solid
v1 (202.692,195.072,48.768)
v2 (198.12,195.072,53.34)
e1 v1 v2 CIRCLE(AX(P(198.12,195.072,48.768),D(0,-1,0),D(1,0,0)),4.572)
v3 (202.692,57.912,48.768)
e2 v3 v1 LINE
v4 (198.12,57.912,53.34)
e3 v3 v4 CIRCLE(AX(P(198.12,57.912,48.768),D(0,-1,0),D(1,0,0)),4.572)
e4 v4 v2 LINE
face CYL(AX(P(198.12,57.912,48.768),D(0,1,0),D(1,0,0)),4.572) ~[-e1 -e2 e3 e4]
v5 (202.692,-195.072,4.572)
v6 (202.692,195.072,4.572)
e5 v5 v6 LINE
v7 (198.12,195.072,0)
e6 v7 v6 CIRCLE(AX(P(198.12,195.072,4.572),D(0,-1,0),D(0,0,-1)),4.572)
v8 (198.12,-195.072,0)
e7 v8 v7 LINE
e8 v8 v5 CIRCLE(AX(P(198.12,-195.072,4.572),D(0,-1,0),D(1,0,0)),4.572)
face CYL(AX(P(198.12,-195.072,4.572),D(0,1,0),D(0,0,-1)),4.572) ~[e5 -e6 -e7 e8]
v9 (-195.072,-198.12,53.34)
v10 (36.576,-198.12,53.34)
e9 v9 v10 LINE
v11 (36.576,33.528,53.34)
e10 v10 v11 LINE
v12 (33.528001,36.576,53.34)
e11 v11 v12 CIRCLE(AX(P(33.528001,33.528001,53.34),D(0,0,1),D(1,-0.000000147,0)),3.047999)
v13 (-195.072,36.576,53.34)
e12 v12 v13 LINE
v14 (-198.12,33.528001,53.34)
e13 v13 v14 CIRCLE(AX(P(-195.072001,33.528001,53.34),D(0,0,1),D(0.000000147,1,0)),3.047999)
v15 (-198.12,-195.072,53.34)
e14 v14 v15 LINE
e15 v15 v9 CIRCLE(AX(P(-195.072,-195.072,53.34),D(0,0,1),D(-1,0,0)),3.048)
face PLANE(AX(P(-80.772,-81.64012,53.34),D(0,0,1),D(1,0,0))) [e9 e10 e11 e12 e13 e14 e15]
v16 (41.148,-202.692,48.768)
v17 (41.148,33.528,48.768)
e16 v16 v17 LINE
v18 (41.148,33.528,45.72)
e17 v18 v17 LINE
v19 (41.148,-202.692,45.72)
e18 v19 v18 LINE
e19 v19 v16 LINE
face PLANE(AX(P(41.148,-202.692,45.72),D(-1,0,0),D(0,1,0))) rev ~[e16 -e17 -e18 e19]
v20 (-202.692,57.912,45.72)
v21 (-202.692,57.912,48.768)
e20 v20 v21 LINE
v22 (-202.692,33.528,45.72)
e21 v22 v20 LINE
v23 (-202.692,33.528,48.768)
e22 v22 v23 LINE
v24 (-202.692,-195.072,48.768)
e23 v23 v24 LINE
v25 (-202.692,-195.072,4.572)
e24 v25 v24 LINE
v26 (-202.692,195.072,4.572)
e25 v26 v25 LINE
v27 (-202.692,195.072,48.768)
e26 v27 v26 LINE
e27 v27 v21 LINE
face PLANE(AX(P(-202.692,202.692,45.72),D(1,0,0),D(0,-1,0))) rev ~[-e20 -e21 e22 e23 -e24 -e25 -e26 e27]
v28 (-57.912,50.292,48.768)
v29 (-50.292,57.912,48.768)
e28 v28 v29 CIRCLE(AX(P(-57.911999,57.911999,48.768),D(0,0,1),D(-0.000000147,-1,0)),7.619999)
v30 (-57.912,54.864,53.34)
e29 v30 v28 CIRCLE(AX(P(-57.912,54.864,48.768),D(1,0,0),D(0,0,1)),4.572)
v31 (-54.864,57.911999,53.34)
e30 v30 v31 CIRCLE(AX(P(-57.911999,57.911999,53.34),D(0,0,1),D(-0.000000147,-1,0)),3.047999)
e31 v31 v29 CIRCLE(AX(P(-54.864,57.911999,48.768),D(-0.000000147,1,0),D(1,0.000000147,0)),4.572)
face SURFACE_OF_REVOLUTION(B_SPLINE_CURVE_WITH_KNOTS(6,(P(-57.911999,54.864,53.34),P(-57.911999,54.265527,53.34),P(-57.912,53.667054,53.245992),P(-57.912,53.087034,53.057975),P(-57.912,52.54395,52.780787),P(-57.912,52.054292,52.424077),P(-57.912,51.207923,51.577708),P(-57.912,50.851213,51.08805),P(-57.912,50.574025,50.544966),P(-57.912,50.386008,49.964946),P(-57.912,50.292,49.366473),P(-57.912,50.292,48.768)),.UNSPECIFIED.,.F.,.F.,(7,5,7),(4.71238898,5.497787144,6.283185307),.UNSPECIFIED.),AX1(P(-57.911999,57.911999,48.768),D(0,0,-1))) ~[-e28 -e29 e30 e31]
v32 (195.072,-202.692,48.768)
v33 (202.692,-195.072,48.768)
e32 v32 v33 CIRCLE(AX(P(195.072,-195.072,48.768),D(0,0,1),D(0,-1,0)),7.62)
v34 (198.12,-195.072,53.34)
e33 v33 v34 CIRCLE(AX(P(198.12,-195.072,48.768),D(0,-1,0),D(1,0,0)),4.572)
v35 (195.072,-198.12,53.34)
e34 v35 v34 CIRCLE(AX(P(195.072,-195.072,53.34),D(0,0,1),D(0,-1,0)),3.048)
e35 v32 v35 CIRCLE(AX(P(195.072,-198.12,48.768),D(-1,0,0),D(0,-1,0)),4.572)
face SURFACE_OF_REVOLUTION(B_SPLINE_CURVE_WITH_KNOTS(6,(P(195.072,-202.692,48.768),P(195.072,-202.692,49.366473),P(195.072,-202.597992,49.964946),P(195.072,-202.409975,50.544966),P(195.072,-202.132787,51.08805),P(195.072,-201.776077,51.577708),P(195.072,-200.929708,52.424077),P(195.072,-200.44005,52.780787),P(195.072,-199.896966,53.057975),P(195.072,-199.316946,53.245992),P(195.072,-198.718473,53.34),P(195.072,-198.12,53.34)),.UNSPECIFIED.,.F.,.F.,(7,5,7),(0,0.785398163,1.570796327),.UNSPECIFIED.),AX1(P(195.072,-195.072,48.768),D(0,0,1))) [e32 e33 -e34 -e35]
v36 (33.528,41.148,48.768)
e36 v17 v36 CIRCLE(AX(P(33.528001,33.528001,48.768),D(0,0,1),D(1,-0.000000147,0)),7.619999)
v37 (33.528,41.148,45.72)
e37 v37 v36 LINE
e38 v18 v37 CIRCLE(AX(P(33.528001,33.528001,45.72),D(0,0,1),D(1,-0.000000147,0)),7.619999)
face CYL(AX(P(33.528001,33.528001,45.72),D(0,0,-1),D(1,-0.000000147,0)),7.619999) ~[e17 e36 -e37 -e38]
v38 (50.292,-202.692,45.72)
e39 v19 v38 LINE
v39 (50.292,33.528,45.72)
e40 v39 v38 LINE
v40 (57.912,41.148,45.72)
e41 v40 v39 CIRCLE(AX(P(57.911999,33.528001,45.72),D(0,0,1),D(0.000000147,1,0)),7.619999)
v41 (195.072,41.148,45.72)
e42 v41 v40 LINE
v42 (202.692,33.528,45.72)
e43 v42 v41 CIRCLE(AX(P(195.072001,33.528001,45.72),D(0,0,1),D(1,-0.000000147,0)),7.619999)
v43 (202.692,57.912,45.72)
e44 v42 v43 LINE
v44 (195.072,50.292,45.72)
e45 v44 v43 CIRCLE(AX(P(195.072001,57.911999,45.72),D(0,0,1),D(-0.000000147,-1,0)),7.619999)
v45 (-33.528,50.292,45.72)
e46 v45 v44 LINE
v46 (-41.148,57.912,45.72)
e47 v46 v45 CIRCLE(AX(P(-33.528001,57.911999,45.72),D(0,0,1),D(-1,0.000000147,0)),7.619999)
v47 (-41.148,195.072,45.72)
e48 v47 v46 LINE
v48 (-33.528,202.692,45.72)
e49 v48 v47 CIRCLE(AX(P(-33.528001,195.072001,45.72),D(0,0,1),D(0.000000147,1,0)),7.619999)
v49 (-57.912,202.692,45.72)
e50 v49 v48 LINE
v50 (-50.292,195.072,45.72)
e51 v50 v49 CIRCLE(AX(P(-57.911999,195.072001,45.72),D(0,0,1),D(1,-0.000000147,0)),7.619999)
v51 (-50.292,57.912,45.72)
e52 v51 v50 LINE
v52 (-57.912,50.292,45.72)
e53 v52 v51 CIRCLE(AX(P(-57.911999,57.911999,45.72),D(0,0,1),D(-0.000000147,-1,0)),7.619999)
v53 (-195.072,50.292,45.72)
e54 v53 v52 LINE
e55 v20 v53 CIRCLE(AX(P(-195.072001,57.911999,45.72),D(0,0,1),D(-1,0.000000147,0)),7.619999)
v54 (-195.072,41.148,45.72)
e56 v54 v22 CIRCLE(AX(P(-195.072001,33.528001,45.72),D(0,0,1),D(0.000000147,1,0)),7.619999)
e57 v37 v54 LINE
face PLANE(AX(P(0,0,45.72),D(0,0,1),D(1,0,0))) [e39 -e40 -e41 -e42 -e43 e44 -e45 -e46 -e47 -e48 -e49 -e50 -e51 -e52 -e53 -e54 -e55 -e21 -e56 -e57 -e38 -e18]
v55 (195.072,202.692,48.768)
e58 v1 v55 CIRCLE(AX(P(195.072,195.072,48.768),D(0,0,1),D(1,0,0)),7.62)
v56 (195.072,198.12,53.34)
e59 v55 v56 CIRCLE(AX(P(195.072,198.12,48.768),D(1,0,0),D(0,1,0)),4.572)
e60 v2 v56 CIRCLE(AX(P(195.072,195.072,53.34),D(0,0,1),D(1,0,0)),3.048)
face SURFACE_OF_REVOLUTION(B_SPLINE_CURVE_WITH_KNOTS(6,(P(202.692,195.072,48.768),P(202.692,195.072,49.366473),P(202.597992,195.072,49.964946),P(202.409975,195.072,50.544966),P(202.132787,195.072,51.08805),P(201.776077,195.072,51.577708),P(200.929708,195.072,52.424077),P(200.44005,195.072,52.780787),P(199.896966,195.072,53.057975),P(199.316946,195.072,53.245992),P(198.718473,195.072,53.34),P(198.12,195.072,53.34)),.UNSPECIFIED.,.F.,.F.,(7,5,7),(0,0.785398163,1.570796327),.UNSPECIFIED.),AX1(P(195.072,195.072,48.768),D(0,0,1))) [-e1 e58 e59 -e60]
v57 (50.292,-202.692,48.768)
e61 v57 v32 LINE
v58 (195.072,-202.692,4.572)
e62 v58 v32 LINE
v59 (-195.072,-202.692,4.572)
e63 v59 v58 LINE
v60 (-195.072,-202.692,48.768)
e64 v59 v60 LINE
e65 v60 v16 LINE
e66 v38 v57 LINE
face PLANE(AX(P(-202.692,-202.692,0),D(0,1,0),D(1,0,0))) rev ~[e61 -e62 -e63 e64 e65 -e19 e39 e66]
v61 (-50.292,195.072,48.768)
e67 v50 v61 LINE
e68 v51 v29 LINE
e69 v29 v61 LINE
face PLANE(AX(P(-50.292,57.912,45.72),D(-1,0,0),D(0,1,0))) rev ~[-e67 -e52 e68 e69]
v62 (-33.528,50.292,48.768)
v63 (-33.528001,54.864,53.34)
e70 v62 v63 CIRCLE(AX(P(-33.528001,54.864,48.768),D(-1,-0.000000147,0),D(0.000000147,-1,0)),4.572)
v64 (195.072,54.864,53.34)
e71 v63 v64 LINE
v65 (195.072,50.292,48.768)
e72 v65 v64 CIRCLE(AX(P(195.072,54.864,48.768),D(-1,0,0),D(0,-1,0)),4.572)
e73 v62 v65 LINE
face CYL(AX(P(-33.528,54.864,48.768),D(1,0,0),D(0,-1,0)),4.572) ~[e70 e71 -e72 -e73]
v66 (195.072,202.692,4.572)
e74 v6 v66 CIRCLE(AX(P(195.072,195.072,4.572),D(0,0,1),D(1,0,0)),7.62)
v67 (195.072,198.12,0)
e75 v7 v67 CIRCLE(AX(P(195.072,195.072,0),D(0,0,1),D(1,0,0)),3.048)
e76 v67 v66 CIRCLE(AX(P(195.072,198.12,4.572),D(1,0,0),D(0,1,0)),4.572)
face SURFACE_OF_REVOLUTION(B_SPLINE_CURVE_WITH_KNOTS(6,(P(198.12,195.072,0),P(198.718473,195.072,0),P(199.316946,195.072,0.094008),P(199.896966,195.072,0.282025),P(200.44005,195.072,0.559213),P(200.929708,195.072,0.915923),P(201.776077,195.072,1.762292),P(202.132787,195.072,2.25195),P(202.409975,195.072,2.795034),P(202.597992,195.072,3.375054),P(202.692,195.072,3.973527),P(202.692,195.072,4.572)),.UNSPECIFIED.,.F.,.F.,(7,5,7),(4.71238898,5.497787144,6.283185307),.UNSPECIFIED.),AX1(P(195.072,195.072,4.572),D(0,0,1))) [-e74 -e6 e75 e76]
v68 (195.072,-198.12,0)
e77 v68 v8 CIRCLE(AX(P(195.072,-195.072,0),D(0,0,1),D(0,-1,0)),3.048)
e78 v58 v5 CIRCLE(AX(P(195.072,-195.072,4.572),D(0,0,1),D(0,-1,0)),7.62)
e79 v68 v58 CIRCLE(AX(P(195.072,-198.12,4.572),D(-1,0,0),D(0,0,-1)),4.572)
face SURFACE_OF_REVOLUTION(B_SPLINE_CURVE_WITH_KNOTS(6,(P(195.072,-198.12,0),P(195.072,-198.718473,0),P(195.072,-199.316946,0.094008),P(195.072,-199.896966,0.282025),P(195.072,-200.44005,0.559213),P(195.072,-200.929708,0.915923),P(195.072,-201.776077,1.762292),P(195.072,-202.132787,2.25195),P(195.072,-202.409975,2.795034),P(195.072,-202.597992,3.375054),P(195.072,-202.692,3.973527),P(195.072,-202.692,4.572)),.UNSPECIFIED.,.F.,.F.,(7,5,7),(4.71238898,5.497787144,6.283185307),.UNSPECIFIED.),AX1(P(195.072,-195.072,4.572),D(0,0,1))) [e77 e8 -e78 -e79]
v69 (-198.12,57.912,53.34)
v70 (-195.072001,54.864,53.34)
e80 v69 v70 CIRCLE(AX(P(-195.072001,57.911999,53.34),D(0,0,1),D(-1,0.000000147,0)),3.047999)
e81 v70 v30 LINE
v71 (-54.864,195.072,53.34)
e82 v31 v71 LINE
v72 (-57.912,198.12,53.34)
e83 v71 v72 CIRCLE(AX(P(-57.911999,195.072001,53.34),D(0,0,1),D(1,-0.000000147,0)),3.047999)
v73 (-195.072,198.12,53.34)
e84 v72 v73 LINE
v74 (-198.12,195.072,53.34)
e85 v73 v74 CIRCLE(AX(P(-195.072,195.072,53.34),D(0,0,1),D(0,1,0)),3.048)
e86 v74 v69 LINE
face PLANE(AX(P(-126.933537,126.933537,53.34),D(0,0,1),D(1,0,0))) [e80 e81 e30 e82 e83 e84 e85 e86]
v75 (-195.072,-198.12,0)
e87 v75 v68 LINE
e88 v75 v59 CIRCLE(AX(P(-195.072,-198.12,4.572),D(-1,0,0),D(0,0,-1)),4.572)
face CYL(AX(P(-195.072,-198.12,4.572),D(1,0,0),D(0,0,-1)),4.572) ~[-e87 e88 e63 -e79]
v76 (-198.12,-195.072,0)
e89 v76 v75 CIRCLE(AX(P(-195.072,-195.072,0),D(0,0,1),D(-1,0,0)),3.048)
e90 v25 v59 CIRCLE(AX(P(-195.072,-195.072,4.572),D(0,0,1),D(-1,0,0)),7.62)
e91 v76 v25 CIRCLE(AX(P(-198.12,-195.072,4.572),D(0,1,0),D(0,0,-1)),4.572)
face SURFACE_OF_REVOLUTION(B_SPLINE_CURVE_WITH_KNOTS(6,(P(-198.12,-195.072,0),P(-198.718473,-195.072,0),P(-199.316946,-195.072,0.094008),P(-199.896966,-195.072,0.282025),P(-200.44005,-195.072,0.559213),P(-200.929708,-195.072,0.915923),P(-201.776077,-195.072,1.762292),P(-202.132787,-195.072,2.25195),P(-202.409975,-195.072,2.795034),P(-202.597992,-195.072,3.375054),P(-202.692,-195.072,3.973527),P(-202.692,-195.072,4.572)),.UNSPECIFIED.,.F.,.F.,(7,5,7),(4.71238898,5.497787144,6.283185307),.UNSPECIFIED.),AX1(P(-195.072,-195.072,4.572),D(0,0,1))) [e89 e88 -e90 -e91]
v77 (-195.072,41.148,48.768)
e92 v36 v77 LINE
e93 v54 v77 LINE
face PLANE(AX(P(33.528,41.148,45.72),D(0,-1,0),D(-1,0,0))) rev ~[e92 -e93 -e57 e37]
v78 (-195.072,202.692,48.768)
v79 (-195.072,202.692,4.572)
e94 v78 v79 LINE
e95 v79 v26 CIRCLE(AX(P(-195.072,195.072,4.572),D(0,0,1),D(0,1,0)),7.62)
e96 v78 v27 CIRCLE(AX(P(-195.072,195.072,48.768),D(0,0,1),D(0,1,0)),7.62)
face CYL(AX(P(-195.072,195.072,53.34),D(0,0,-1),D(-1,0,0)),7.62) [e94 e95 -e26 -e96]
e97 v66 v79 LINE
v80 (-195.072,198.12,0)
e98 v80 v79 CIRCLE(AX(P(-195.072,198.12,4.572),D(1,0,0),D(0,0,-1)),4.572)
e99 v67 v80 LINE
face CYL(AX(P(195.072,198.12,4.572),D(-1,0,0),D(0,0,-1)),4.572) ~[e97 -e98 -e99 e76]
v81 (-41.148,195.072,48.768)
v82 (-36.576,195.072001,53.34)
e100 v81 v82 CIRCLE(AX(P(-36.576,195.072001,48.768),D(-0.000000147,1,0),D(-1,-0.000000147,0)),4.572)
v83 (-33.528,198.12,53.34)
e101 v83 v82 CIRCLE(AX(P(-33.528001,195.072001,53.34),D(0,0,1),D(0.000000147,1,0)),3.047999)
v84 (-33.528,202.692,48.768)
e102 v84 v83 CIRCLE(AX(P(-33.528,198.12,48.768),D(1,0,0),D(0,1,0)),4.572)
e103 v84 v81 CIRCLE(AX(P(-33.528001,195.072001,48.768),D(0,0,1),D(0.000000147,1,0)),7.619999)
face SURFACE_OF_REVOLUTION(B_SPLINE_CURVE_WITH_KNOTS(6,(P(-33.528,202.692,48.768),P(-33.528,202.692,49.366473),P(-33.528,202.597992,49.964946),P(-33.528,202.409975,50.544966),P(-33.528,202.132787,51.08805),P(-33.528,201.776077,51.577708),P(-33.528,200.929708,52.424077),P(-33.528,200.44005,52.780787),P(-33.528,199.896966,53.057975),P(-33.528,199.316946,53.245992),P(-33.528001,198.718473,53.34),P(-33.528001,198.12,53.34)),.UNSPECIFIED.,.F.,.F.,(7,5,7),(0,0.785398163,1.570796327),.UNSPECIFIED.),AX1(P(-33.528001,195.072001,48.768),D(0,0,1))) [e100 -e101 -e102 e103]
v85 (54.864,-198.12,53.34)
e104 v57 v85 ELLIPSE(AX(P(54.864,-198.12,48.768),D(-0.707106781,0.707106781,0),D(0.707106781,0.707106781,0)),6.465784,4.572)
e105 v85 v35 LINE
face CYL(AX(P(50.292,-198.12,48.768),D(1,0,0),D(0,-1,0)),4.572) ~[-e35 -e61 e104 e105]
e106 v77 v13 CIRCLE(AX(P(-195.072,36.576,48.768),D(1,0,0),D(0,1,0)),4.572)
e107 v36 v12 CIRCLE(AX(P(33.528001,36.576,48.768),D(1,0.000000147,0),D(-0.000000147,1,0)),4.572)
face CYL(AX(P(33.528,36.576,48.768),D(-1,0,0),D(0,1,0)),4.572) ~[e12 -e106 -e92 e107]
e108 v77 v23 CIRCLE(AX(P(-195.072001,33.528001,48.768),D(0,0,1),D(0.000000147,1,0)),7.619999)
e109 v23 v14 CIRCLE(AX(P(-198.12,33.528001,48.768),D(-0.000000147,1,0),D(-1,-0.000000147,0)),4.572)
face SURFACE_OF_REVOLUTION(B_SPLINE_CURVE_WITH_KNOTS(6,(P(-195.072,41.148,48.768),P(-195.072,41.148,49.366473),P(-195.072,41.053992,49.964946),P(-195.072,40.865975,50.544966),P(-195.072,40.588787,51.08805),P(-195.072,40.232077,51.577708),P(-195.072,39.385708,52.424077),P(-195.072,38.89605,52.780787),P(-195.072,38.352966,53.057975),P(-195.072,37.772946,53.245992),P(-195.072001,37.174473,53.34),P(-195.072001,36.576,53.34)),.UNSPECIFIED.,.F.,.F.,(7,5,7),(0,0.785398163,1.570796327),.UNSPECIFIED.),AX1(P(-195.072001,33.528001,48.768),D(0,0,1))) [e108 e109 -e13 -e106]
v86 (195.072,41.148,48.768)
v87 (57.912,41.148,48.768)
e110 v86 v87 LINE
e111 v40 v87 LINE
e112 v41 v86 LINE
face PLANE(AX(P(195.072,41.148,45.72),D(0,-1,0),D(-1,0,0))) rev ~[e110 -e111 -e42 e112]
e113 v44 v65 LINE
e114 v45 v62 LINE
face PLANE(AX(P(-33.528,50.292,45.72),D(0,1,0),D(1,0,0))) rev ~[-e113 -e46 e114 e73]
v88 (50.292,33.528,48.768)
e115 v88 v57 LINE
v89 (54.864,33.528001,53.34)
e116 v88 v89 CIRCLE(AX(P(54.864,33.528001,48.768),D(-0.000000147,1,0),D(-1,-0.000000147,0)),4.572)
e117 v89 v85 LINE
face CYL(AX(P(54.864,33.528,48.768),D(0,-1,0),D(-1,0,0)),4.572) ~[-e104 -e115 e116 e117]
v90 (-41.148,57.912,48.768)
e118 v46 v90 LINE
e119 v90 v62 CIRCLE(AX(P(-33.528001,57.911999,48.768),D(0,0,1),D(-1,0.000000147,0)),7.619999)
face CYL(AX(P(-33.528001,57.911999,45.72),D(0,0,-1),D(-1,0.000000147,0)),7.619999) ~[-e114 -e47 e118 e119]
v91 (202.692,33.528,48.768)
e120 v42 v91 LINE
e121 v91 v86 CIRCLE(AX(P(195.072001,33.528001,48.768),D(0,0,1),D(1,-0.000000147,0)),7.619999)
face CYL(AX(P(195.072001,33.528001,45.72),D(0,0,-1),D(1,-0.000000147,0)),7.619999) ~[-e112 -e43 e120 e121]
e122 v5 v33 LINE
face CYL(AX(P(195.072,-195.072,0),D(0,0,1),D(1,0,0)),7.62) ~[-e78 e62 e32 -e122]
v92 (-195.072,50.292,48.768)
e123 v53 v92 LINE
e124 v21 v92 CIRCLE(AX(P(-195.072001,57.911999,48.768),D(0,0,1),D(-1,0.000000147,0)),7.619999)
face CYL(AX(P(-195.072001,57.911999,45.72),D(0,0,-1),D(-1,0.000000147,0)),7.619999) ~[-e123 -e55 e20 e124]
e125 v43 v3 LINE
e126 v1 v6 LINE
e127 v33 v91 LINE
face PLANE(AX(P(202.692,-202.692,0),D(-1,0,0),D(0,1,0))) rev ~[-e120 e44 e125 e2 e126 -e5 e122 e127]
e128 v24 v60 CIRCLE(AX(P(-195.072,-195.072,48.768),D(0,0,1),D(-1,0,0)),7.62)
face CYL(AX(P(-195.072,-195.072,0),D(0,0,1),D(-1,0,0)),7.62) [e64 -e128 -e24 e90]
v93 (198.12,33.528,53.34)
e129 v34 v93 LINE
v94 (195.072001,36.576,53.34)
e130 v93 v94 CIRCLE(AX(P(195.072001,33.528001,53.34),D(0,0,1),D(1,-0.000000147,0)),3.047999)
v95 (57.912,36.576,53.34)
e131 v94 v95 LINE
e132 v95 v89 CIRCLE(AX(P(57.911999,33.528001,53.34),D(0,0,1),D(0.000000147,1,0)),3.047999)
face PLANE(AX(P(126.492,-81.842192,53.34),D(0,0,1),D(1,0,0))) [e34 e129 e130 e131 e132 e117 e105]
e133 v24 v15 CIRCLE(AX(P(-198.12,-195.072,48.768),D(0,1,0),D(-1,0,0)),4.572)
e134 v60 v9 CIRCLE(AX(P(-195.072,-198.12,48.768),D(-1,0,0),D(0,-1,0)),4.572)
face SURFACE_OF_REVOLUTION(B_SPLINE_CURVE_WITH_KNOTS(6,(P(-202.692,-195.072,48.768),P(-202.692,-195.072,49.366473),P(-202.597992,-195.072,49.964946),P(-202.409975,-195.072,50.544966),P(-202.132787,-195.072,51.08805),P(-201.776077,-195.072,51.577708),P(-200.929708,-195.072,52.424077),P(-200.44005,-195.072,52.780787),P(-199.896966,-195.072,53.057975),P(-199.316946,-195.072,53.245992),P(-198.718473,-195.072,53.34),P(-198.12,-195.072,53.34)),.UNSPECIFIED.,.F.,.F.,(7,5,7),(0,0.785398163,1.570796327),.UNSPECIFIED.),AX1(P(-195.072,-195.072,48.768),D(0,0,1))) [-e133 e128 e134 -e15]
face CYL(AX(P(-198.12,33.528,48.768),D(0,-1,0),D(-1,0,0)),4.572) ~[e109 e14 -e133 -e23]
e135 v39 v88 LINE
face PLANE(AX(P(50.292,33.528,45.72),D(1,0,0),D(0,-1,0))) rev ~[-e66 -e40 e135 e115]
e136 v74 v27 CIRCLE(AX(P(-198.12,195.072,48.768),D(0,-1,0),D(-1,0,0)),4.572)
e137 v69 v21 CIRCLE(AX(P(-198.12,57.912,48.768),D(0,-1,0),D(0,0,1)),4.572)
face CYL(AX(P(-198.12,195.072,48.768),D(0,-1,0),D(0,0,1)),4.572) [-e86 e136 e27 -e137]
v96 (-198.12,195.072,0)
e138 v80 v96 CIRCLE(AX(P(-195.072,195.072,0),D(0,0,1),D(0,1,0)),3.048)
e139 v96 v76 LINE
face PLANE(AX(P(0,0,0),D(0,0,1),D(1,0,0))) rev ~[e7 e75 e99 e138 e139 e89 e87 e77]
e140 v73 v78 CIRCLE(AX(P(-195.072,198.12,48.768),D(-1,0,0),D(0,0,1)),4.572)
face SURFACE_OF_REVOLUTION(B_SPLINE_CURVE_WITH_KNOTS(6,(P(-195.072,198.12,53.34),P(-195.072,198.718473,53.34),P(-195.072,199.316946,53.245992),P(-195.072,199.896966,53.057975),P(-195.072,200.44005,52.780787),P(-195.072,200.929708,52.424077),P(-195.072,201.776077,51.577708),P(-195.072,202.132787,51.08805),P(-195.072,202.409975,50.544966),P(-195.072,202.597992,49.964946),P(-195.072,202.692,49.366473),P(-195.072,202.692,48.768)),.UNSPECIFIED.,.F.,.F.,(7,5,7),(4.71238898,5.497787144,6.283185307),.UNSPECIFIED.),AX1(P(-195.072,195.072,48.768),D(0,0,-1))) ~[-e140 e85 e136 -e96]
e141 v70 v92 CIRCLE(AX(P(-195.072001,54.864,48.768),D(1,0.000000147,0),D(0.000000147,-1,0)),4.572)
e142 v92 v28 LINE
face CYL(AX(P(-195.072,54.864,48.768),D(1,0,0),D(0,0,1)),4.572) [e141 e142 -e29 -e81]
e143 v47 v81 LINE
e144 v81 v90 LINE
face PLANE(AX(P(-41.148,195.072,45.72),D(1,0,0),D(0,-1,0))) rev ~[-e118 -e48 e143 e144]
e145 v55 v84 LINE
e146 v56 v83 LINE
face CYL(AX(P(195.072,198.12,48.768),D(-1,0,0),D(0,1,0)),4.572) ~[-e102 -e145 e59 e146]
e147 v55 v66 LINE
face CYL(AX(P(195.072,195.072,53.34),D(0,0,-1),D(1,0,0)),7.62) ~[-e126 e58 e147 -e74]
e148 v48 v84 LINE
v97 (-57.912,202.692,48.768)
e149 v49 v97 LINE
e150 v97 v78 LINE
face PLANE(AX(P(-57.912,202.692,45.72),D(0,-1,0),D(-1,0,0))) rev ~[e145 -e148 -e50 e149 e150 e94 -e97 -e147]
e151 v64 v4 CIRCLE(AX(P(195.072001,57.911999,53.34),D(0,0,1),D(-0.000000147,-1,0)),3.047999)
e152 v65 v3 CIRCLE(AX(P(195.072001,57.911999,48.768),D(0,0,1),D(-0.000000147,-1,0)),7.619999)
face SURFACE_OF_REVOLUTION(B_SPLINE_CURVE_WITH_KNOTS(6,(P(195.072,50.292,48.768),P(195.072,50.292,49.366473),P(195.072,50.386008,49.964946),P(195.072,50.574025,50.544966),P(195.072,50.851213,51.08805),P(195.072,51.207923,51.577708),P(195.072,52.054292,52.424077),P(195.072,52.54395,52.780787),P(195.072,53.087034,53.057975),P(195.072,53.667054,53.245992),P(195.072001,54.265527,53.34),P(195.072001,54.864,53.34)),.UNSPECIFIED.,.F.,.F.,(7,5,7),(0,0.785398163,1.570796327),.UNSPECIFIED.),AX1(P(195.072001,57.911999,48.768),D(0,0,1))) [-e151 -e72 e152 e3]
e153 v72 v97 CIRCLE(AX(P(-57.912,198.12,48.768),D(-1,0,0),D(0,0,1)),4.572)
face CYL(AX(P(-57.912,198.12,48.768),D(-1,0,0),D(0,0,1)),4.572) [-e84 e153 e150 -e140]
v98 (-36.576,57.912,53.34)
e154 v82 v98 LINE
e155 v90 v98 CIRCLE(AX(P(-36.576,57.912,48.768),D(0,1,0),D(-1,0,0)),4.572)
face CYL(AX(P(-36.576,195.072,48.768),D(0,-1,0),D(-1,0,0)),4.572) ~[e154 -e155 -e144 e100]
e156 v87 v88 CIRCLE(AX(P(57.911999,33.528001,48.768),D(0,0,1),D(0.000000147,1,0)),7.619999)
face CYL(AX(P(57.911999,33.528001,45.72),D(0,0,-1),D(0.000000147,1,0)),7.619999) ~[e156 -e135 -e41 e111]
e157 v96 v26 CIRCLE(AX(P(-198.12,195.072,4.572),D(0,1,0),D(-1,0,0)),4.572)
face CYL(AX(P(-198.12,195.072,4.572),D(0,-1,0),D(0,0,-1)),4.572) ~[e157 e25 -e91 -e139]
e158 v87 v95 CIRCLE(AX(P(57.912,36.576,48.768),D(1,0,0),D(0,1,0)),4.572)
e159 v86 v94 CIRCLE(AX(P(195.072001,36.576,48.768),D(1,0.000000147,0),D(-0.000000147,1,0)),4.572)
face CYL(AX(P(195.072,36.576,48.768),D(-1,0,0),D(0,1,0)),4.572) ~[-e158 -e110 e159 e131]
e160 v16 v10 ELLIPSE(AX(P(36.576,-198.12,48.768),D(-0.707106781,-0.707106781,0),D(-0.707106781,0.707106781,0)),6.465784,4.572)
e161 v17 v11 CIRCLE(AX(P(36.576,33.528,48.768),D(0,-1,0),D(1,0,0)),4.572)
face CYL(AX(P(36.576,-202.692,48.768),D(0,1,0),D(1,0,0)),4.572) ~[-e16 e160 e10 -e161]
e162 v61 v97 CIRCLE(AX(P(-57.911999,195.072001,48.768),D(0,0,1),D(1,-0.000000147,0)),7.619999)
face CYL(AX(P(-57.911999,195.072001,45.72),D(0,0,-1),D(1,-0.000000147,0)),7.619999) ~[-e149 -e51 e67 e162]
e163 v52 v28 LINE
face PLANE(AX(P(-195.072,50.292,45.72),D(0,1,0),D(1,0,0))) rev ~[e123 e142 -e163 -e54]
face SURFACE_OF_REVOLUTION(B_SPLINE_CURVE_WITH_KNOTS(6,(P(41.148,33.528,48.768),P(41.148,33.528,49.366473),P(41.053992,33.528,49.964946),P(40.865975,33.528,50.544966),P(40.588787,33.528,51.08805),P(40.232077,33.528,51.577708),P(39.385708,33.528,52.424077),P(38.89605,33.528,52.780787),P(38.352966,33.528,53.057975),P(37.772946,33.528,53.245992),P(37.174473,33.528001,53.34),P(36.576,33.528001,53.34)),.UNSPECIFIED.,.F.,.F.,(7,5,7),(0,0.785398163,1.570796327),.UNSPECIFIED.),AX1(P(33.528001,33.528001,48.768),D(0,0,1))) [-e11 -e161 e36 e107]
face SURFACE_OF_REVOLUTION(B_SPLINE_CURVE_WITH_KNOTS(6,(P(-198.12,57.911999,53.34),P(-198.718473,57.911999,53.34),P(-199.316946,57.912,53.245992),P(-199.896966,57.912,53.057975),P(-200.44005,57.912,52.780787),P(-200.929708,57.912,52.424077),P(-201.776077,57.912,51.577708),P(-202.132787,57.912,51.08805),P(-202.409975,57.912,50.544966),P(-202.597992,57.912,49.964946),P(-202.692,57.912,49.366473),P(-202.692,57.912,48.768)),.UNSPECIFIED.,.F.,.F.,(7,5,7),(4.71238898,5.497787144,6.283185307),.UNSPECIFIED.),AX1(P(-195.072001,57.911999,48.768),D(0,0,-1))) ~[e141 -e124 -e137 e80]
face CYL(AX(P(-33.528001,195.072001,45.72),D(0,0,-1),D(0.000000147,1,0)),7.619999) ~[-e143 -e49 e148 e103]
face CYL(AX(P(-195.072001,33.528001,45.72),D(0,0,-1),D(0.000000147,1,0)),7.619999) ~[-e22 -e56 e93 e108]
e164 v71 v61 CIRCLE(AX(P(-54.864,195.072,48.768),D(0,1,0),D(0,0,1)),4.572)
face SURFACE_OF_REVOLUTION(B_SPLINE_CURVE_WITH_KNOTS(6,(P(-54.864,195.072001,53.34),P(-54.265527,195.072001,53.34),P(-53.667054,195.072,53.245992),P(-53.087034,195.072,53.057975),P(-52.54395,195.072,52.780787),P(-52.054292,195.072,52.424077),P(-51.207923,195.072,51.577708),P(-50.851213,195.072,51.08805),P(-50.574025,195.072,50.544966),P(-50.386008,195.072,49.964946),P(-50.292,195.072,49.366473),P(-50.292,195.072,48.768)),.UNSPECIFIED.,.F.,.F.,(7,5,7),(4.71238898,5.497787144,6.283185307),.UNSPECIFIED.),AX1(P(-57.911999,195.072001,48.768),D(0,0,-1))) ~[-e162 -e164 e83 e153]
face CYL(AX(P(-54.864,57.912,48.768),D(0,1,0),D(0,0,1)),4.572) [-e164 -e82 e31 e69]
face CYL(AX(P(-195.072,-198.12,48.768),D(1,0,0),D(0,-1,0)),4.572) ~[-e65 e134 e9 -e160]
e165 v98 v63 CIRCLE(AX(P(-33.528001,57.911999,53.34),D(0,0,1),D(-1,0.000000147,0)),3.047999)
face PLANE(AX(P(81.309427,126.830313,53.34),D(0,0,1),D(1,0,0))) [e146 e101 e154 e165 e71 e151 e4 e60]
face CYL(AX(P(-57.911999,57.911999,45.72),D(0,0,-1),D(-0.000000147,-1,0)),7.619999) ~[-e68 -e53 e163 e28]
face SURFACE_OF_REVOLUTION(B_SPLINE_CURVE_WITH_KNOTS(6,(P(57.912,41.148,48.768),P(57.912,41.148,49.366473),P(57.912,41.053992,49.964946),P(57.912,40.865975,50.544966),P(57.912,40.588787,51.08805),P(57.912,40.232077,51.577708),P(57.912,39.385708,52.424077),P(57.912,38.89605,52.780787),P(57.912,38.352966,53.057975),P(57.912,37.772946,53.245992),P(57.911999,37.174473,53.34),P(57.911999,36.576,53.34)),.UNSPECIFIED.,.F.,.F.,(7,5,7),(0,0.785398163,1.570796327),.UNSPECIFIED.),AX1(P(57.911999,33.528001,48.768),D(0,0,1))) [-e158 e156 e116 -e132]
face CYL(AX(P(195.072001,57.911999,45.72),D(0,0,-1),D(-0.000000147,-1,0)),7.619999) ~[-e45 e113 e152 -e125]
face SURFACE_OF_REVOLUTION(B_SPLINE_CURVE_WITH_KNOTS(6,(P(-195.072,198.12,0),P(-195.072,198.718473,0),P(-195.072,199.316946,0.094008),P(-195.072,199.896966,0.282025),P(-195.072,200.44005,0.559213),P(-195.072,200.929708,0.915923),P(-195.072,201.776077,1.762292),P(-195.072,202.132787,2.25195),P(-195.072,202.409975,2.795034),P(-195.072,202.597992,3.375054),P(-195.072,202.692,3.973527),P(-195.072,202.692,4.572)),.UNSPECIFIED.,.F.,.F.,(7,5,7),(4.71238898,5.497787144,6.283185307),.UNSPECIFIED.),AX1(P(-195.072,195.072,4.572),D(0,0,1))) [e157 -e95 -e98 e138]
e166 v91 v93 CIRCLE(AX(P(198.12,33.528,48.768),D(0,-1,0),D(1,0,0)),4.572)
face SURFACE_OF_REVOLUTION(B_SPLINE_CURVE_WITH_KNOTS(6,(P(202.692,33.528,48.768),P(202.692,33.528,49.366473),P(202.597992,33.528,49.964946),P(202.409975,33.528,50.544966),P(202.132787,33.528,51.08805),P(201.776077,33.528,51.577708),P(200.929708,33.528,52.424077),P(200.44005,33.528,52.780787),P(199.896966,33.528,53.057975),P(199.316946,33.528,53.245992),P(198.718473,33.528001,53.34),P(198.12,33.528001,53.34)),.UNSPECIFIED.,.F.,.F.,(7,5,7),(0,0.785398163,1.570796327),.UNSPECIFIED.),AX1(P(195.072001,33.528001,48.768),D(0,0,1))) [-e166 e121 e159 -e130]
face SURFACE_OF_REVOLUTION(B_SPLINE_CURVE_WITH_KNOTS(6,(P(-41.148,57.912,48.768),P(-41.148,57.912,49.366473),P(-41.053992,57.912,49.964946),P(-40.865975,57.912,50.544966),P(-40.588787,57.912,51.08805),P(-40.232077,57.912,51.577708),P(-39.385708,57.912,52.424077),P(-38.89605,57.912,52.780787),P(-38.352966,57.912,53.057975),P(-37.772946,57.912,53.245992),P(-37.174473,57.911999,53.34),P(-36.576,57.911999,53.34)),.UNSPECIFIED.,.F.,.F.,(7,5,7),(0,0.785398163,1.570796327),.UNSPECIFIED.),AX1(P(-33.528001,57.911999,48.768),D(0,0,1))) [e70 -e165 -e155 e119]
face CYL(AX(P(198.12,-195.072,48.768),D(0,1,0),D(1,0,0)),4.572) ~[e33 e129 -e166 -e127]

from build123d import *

# Parameters (mm, degrees)
F0_W     = 405.384
F0_H     = 405.384
F1_DEPTH = 45.72
F3_DEPTH = 7.62
F4_R     = 7.62
F5_R     = 4.572


with BuildPart() as f1:
    # F0 (on Top) → F1 (new body)
    with BuildSketch(Plane.XY):
        Rectangle(F0_W, F0_H)
    extrude(amount=F1_DEPTH)

    # F2 (on face) → F3 (join)
    with BuildSketch(Plane.XY.offset(45.72)):
        with BuildLine():
            Line((-202.692, 202.692), (-202.692, 57.912))
            ThreePointArc((-202.692, 57.912), (-200.460154, 52.523846), (-195.072, 50.292))
            Line((-195.072, 50.292), (-57.912, 50.292))
            ThreePointArc((-57.912, 50.292), (-52.523846, 52.523846), (-50.292, 57.912))
            Line((-50.292, 57.912), (-50.292, 195.072))
            ThreePointArc((-50.292, 195.072), (-52.523846, 200.460154), (-57.912, 202.692))
            Line((-57.912, 202.692), (-202.692, 202.692))
        make_face()
        with BuildLine():
            ThreePointArc((195.072, 50.292), (200.460154, 52.523846), (202.692, 57.912))
            Line((202.692, 57.912), (202.692, 202.692))
            Line((202.692, 202.692), (-33.528, 202.692))
            ThreePointArc((-33.528, 202.692), (-38.916154, 200.460154), (-41.148, 195.072))
            Line((-41.148, 195.072), (-41.148, 57.912))
            ThreePointArc((-41.148, 57.912), (-38.916154, 52.523846), (-33.528, 50.292))
            Line((-33.528, 50.292), (195.072, 50.292))
        make_face()
        with BuildLine():
            Line((50.292, 33.528), (50.292, -202.692))
            Line((50.292, -202.692), (202.692, -202.692))
            Line((202.692, -202.692), (202.692, 33.528))
            ThreePointArc((202.692, 33.528), (200.460154, 38.916154), (195.072, 41.148))
            Line((195.072, 41.148), (57.912, 41.148))
            ThreePointArc((57.912, 41.148), (52.523846, 38.916154), (50.292, 33.528))
        make_face()
        with BuildLine():
            Line((-202.692, 33.528), (-202.692, -202.692))
            Line((-202.692, -202.692), (41.148, -202.692))
            Line((41.148, -202.692), (41.148, 33.528))
            ThreePointArc((41.148, 33.528), (38.916154, 38.916154), (33.528, 41.148))
            Line((33.528, 41.148), (-195.072, 41.148))
            ThreePointArc((-195.072, 41.148), (-200.460154, 38.916154), (-202.692, 33.528))
        make_face()
    extrude(amount=F3_DEPTH)

    # F4
    f4_edges = [f1.edges().sort_by_distance(p)[0] for p in [
        (-202.692, 202.692, 26.67),
        (202.692, 202.692, 26.67),
        (202.692, -202.692, 26.67),
        (-202.692, -202.692, 26.67),
    ]]
    fillet(f4_edges, radius=F4_R)

    # F5
    f5_edges = [f1.edges().sort_by_distance(p)[0] for p in [
        (202.692, 126.492, 53.34),
        (200.460154, 200.460154, 53.34),
        (200.460154, 52.523846, 53.34),
        (80.772, 202.692, 53.34),
        (80.772, 50.292, 53.34),
        (-38.916154, 200.460154, 53.34),
        (-38.916154, 52.523846, 53.34),
        (-41.148, 126.492, 53.34),
        (122.682, -202.692, 53.34),
        (200.460154, -200.460154, 53.34),
        (50.292, -84.582, 53.34),
        (202.692, -80.772, 53.34),
        (52.523846, 38.916154, 53.34),
        (200.460154, 38.916154, 53.34),
        (126.492, 41.148, 53.34),
        (-202.692, -80.772, 53.34),
        (-200.460154, -200.460154, 53.34),
        (-200.460154, 38.916154, 53.34),
        (-76.962, -202.692, 53.34),
        (-80.772, 41.148, 53.34),
        (41.148, -84.582, 53.34),
        (38.916154, 38.916154, 53.34),
        (-126.492, 202.692, 53.34),
        (-200.460154, 200.460154, 53.34),
        (-52.523846, 200.460154, 53.34),
        (-202.692, 126.492, 53.34),
        (-50.292, 126.492, 53.34),
        (-200.460154, 52.523846, 53.34),
        (-52.523846, 52.523846, 53.34),
        (-126.492, 50.292, 53.34),
        (0, -202.692, 0),
        (-200.460154, -200.460154, 0),
        (200.460154, -200.460154, 0),
        (-202.692, 0, 0),
        (202.692, 0, 0),
        (-200.460154, 200.460154, 0),
        (200.460154, 200.460154, 0),
        (0, 202.692, 0),
    ]]
    fillet(f5_edges, radius=F5_R)


solid = f1.part
